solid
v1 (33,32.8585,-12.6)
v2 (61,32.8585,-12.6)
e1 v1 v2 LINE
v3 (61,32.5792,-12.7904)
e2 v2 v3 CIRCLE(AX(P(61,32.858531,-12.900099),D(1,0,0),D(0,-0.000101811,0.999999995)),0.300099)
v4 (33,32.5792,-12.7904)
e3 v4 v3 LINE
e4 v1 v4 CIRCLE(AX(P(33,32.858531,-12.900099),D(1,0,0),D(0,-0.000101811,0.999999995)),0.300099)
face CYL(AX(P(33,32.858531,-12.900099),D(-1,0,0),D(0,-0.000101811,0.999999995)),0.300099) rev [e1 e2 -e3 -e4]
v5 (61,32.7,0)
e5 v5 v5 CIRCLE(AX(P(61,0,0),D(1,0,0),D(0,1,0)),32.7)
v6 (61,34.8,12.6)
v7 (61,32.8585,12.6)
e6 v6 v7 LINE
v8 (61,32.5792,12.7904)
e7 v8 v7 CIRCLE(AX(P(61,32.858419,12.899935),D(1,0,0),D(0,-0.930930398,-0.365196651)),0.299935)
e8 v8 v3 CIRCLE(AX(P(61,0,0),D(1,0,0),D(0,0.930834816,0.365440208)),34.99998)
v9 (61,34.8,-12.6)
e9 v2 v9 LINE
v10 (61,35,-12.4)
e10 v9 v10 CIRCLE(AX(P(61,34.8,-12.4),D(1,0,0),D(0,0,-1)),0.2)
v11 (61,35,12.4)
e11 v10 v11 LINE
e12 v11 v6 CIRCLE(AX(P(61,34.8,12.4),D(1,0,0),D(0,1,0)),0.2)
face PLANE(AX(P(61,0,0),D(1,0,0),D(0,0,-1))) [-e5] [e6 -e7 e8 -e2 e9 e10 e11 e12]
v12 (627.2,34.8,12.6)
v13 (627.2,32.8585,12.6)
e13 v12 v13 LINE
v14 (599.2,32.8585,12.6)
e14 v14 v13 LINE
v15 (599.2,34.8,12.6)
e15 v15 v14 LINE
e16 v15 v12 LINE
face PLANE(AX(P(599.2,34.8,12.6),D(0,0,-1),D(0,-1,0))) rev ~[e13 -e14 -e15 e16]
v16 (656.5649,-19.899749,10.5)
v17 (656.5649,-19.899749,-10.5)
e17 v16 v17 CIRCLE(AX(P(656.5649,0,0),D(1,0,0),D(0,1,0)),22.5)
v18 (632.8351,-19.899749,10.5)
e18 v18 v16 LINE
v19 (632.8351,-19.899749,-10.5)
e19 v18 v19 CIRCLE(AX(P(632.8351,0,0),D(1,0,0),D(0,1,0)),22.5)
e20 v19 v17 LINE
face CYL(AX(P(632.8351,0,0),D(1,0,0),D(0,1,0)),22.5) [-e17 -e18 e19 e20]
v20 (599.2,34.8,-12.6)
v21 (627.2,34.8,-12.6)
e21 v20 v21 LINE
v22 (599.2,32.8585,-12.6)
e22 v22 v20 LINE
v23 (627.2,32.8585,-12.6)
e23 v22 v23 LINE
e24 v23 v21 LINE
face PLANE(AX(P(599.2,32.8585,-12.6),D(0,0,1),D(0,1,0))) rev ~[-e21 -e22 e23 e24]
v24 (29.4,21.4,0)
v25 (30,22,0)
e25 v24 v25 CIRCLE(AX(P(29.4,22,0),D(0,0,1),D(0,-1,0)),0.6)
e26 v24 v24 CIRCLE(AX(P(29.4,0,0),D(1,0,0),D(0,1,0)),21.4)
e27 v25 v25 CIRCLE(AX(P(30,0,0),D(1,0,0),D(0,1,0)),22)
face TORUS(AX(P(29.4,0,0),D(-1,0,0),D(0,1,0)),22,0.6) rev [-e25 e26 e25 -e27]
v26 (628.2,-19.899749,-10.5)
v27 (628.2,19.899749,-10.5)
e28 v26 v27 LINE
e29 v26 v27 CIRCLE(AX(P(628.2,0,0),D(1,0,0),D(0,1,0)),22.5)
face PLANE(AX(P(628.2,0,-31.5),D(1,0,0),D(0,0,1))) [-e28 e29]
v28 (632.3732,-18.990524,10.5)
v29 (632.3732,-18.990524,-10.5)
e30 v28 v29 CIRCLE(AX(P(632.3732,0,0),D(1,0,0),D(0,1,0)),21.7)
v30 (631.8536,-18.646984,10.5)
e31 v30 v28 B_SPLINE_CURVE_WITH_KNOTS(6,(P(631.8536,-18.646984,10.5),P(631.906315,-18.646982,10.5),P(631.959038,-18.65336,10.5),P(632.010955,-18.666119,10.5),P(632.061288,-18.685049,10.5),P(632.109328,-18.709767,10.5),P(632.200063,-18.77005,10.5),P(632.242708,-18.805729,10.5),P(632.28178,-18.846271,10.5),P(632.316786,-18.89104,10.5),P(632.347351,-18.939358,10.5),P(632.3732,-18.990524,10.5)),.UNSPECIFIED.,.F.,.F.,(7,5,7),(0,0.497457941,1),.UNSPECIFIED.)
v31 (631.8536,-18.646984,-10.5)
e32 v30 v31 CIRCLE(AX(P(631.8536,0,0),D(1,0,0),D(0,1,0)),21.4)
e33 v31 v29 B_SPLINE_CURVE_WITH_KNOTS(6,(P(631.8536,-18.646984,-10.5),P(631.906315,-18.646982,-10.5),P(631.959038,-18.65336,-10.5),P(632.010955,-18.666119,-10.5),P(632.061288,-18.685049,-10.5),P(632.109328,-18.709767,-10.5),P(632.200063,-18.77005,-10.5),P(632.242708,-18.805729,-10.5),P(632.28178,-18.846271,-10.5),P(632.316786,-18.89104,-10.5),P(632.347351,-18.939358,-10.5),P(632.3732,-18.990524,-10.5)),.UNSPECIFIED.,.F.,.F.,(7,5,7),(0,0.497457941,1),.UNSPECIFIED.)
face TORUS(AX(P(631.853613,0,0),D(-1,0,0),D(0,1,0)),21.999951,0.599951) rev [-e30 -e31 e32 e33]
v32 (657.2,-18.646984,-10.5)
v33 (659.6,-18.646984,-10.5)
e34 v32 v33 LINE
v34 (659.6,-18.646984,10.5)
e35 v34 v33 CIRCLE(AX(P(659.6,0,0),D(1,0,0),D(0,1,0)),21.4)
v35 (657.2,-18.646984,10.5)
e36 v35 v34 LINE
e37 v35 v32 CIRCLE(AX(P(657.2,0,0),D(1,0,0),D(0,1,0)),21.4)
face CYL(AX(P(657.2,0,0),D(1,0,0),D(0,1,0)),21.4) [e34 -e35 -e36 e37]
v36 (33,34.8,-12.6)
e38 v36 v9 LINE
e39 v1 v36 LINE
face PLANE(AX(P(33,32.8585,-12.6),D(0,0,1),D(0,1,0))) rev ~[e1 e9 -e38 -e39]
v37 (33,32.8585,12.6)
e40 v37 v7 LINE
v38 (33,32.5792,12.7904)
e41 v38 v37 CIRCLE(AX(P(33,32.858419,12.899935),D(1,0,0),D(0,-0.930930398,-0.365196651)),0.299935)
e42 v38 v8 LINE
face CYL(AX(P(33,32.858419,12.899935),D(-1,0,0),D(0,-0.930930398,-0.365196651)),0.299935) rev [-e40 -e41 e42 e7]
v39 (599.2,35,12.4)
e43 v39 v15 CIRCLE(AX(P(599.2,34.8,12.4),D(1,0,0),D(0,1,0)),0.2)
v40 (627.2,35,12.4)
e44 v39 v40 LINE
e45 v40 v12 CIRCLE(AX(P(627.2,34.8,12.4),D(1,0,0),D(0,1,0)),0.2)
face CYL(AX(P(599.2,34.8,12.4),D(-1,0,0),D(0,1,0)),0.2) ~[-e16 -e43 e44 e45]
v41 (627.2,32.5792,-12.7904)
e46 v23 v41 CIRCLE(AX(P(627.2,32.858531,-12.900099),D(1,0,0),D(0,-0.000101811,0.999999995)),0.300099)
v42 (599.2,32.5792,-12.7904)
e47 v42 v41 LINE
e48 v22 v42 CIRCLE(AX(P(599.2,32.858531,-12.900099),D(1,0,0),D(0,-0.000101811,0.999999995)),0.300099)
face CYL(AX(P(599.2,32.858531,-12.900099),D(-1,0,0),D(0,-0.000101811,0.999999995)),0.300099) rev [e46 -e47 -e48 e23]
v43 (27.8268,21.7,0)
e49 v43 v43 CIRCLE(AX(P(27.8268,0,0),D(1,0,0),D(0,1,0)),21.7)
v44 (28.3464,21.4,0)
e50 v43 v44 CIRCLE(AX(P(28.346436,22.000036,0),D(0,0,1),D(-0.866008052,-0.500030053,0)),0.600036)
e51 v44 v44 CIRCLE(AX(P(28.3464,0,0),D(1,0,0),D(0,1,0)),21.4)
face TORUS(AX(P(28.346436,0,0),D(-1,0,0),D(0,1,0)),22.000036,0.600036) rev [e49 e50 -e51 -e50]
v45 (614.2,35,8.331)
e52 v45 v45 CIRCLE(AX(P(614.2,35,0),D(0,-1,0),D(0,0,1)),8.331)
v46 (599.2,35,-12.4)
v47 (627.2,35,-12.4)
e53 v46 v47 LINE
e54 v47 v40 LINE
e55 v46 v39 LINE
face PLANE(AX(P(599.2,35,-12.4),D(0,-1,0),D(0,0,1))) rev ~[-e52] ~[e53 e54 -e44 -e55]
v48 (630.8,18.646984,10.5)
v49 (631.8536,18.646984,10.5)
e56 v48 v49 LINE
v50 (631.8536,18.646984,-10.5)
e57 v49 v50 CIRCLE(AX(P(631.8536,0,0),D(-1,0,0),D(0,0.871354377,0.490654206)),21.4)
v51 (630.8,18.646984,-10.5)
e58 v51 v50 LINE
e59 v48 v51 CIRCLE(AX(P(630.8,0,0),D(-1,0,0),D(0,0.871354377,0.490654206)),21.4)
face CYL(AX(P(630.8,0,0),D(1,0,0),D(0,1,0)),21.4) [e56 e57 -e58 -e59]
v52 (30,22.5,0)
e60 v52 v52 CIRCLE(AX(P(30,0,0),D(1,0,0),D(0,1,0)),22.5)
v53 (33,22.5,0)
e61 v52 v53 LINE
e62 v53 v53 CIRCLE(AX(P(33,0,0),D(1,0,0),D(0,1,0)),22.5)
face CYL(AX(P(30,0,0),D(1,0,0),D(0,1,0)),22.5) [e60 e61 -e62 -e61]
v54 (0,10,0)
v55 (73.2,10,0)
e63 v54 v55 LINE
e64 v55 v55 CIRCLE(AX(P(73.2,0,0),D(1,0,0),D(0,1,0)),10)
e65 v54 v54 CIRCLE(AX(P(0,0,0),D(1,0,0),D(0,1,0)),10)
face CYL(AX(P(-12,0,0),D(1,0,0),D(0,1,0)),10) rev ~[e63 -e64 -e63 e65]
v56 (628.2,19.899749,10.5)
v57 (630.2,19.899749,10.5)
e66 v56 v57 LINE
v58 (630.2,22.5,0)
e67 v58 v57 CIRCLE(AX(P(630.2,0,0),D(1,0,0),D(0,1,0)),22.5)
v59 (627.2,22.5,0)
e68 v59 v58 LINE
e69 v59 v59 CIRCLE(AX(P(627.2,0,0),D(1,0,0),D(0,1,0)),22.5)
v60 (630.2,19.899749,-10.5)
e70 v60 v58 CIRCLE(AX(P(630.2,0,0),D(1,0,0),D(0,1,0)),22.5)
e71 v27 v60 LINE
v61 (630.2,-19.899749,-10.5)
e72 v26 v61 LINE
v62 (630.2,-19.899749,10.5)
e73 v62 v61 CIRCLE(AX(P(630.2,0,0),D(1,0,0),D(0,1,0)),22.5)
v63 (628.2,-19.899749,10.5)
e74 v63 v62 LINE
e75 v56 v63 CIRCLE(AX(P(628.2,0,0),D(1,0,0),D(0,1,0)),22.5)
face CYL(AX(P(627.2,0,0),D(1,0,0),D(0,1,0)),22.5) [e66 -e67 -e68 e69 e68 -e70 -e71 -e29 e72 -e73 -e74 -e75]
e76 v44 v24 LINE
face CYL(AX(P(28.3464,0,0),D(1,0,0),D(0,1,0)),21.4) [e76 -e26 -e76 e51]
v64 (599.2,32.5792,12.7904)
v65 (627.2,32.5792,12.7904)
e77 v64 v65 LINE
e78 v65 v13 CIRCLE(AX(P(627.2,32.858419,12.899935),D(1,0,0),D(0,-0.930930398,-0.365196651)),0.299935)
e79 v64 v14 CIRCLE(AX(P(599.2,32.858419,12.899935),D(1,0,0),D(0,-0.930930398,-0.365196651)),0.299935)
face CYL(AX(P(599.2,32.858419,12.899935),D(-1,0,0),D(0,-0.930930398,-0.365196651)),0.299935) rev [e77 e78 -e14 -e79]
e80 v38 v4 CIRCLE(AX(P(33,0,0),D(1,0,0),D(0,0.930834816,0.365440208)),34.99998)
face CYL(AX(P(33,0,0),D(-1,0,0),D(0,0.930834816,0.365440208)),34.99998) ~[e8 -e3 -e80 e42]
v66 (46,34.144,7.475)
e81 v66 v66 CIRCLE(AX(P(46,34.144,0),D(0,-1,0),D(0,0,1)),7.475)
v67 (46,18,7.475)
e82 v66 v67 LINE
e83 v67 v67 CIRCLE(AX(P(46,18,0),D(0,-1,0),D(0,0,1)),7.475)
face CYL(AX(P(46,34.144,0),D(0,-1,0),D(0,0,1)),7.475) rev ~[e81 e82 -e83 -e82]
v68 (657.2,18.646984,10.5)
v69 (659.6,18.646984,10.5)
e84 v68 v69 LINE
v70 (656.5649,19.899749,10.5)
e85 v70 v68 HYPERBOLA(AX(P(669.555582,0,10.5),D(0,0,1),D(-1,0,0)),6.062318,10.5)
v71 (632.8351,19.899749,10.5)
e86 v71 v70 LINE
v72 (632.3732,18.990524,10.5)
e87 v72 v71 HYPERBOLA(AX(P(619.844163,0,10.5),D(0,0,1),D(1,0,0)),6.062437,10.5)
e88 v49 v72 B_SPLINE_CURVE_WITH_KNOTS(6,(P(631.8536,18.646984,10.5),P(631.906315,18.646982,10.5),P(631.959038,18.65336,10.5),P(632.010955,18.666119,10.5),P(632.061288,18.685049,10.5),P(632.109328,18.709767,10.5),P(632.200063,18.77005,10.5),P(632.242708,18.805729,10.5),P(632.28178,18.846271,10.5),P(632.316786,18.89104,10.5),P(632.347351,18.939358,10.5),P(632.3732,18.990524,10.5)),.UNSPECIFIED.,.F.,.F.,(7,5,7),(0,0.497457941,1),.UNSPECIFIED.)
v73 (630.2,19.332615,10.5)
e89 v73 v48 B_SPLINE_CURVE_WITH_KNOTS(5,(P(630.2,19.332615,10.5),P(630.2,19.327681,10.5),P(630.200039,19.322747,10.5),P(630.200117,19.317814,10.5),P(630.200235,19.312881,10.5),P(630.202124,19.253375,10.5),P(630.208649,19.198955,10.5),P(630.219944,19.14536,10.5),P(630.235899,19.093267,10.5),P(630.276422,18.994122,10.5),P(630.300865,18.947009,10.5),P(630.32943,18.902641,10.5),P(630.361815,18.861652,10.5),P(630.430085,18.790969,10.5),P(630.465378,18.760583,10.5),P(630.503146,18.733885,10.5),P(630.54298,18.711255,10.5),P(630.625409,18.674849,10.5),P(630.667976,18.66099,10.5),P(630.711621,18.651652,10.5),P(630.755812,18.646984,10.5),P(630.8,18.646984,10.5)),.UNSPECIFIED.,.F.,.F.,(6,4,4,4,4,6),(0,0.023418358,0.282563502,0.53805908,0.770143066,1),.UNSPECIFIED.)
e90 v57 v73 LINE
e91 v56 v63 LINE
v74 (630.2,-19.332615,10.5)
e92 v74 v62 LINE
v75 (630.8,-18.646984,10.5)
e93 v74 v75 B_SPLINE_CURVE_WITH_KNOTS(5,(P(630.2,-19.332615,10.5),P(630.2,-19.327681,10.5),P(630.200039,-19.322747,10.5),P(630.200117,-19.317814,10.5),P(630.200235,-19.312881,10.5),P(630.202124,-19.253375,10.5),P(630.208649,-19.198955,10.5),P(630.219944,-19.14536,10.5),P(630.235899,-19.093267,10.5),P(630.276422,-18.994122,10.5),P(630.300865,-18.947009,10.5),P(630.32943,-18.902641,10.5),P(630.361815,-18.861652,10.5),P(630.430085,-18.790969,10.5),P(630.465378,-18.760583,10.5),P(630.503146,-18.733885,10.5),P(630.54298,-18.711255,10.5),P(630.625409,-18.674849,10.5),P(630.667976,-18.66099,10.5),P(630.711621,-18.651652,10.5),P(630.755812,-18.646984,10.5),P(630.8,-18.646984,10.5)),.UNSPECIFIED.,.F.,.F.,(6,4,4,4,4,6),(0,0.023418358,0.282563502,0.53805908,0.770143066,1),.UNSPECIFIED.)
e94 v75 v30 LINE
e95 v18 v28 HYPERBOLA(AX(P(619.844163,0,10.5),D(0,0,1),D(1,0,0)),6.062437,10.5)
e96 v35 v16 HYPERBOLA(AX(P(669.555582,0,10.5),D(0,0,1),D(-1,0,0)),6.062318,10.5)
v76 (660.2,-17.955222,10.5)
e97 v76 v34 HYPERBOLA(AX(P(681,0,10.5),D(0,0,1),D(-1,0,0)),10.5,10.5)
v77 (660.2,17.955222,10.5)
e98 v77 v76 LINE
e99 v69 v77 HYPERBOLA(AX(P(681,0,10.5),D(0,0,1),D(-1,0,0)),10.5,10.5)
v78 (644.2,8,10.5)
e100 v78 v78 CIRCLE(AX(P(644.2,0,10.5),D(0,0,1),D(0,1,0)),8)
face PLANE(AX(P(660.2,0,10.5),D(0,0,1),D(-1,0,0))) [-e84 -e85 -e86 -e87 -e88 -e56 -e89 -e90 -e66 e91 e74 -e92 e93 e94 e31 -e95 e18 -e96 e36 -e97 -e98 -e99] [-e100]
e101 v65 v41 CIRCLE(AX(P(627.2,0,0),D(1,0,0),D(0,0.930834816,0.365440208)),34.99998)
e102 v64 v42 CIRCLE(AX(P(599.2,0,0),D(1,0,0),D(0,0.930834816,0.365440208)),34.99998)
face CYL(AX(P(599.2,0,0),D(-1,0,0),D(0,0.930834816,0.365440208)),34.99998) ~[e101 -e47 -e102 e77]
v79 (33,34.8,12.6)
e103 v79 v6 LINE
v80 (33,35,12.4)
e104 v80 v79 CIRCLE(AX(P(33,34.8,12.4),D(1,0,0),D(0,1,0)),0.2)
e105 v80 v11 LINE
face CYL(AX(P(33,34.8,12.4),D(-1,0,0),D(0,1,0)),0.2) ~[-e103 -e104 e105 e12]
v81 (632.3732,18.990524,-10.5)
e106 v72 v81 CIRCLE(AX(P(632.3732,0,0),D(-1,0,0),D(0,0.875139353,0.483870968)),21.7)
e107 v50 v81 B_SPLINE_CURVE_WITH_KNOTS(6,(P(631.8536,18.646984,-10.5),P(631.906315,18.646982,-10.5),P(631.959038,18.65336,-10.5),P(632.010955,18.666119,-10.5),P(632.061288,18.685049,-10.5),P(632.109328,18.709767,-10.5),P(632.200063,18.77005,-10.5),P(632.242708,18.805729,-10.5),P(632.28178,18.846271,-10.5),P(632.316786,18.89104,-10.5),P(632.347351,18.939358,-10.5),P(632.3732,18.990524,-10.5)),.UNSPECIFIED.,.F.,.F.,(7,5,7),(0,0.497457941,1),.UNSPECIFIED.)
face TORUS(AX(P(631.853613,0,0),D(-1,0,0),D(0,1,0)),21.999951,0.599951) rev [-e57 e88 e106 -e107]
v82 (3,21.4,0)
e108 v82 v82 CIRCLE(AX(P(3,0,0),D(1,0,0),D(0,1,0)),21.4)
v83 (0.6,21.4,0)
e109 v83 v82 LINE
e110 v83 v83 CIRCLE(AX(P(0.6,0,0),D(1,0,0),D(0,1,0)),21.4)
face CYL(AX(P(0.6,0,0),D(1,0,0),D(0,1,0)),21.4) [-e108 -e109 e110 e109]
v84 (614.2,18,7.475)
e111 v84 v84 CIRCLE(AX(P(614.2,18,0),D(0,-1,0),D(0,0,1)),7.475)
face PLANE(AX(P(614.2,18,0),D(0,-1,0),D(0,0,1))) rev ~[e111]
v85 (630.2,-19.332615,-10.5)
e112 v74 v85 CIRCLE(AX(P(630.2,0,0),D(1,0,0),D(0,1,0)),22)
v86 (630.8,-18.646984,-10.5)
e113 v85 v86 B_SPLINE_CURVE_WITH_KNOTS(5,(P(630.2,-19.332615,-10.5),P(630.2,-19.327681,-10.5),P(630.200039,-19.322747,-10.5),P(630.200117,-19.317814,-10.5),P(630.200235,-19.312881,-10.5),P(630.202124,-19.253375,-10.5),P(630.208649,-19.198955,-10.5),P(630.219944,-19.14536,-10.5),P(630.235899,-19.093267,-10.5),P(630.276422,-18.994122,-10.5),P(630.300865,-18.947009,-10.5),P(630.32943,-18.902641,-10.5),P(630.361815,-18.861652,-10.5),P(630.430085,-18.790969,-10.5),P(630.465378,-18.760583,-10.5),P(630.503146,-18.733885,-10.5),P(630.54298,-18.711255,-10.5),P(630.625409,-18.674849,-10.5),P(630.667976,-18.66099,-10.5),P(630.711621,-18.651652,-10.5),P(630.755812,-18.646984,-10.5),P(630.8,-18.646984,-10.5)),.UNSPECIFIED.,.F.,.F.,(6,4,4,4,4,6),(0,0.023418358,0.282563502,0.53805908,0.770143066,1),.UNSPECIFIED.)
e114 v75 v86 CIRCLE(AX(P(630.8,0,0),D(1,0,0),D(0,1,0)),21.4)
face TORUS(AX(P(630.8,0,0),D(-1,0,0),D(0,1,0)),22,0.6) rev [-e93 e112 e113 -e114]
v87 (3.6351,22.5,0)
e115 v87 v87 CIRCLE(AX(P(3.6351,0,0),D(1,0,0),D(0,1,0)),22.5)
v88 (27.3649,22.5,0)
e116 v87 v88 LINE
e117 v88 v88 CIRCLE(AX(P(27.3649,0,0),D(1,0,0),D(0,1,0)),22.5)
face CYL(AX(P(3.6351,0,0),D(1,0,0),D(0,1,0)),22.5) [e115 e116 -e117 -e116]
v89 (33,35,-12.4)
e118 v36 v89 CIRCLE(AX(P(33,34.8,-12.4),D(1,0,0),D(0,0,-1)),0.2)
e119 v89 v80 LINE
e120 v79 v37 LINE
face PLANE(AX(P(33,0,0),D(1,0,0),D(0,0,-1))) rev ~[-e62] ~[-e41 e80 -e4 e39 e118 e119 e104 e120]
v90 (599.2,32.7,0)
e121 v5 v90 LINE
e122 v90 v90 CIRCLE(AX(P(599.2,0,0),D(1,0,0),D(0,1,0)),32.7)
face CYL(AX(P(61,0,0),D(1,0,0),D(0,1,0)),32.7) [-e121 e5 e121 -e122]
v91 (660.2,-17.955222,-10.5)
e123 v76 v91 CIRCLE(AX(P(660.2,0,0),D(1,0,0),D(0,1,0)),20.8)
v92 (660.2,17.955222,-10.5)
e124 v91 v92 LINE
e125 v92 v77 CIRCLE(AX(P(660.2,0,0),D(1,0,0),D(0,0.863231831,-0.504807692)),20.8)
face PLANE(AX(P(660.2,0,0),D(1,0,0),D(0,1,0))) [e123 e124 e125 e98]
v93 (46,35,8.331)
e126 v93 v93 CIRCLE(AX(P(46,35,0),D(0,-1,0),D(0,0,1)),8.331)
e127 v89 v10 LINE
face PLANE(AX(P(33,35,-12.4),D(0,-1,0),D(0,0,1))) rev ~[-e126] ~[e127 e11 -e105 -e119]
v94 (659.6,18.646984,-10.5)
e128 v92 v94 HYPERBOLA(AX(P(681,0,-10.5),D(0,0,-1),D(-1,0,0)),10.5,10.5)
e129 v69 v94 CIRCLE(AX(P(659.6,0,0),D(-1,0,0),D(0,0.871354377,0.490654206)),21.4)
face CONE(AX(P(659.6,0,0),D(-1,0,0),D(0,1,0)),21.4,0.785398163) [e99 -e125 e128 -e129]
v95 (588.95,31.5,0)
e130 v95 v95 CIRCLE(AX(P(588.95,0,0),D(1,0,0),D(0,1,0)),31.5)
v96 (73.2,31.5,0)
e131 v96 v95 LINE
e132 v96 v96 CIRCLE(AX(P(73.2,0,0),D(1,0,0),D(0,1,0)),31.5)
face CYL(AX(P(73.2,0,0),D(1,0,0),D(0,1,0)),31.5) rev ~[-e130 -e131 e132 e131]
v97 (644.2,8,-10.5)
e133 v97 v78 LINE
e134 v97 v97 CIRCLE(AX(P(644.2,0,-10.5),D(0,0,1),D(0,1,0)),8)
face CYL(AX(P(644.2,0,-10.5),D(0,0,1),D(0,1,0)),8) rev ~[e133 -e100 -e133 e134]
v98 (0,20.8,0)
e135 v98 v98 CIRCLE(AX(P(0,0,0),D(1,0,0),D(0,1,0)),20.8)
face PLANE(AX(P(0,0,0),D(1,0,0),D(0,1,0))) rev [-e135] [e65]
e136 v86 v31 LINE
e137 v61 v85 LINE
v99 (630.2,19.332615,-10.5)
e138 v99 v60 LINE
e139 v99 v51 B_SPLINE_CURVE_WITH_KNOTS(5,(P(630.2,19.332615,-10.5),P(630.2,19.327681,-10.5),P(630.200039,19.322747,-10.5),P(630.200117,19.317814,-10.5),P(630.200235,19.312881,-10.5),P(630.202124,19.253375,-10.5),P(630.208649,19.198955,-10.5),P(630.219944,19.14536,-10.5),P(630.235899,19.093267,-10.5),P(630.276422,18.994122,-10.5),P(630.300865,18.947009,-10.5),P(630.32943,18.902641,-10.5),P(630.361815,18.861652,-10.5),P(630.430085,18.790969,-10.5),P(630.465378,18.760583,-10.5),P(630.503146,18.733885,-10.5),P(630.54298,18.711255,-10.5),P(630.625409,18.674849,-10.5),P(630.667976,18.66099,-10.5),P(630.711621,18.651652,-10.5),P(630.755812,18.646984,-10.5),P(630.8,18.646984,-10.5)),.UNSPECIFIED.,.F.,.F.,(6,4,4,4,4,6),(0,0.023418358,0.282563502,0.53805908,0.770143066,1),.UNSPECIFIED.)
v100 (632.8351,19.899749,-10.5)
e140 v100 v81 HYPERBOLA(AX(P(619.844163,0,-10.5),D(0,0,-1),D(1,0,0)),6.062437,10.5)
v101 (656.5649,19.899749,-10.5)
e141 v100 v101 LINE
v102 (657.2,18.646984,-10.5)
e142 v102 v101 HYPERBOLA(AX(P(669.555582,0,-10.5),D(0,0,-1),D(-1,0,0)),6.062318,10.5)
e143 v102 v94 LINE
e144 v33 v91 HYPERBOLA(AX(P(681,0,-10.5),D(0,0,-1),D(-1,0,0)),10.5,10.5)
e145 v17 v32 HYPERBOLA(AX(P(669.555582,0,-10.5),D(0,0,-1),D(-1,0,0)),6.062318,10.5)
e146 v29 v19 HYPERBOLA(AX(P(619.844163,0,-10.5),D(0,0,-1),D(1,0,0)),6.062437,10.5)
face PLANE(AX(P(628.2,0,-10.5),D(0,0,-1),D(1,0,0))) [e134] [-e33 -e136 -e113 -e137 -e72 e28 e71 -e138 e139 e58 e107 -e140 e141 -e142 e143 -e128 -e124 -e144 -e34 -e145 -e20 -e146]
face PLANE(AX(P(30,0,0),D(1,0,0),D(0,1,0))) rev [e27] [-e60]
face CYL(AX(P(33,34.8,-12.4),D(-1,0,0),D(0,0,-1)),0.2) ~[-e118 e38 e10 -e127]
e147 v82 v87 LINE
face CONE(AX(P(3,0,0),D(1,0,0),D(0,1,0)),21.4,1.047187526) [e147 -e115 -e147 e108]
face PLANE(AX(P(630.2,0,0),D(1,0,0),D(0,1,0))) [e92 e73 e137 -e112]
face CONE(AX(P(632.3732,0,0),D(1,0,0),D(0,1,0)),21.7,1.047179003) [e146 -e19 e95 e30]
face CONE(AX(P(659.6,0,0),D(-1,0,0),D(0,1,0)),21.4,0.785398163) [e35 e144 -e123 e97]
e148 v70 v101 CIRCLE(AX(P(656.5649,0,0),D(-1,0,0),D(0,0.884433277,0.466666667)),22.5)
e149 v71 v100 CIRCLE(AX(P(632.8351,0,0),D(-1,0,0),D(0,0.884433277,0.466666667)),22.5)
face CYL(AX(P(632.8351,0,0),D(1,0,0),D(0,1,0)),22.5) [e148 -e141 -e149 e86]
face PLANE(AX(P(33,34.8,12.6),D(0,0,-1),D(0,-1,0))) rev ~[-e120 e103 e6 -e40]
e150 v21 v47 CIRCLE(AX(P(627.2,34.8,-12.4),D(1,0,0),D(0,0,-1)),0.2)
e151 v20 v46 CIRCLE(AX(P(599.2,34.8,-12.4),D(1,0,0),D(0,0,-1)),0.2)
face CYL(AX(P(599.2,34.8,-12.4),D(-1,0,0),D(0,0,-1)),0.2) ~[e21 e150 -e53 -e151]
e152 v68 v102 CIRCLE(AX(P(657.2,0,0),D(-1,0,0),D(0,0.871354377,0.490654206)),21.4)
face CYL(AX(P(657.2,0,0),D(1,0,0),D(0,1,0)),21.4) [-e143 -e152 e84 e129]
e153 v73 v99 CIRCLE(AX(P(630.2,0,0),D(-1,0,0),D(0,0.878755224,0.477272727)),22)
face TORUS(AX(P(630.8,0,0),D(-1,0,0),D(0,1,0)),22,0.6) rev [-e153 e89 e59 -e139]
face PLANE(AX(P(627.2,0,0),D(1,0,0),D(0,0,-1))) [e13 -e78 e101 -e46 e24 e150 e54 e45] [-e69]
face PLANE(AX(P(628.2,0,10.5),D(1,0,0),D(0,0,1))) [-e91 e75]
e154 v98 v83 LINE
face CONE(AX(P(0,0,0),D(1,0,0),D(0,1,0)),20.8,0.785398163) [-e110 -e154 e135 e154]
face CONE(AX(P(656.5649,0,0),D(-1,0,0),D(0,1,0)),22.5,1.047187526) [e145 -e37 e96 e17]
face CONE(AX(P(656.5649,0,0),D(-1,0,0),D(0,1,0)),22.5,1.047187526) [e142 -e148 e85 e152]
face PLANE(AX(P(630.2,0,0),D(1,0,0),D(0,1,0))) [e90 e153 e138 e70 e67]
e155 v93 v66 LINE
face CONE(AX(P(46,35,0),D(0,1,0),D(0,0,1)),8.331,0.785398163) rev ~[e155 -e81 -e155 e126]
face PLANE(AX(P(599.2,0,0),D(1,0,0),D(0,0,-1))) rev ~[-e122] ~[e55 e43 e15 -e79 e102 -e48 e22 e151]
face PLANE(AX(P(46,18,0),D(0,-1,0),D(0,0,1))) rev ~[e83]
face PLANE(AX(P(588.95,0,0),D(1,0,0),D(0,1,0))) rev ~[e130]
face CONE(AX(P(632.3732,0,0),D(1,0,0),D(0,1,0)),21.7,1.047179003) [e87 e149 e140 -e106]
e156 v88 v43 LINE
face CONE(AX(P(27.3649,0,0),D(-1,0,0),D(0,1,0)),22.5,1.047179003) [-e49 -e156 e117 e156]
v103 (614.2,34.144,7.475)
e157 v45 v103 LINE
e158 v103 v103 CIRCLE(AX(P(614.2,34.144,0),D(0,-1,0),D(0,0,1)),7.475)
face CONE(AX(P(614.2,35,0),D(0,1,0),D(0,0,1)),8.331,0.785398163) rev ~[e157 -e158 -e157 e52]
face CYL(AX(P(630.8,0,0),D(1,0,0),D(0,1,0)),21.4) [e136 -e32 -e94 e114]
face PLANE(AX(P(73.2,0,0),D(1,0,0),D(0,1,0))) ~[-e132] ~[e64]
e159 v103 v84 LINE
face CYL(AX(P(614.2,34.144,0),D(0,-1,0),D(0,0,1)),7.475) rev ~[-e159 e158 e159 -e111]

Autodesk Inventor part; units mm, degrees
sketch "Sketch_22" plane through (0, 0, 0) normal (0, 0, 1) x (1, 0, 0)
  line L0 (33, 0) -> (0, 0)
  line L1 (0, 0) -> (0, 20.8)
  line L2 (0, 20.8) -> (0.6, 21.4)
  line L3 (0.6, 21.4) -> (3, 21.4)
  line L4 (3, 21.4) -> (3.6351, 22.5)
  line L5 (3.6351, 22.5) -> (27.3649, 22.5)
  line L6 (27.3649, 22.5) -> (27.8268, 21.7)
  arc A0 (27.8268, 21.7) -> (28.3464, 21.4) centre (28.3464, 22) ccw
  line L7 (28.3464, 21.4) -> (29.4, 21.4)
  arc A1 (29.4, 21.4) -> (30, 22) centre (29.4, 22) ccw
  line L8 (30, 22) -> (30, 22.5)
  line L9 (30, 22.5) -> (33, 22.5)
  line L10 (33, 22.5) -> (33, 0)
  line L11 (33, 0) -> (0, 0)
revolve "Revolution1" add sketch "Sketch_22" angle 360 about axis through (33, 0, 0) along (1, 0, 0)
thread "Thread1" size "M45x1.5" class "6g" standard "ISO Metric profile" full length
sketch "Sketch_2" plane through (33, 0, 0) normal (1, 0, 0) x (0, 0, -1)
  arc A0 (-12.7904, 32.5792) -> (12.7904, 32.5792) centre (0, 0) ccw
  arc A1 (12.6, 32.8585) -> (12.7904, 32.5792) centre (12.9, 32.8585) ccw
  line L0 (12.6, 32.8585) -> (12.6, 34.8)
  arc A2 (12.6, 34.8) -> (12.4, 35) centre (12.4, 34.8) ccw
  line L1 (12.4, 35) -> (-12.4, 35)
  arc A3 (-12.4, 35) -> (-12.6, 34.8) centre (-12.4, 34.8) ccw
  line L2 (-12.6, 34.8) -> (-12.6, 32.8585)
  arc A4 (-12.7904, 32.5792) -> (-12.6, 32.8585) centre (-12.9, 32.8585) ccw
extrude "Extrusion1" add sketch "Sketch_2" along normal blind 28
sketch "Sketch_3" plane through (0, 0, 0) normal (0, 0, 1) x (1, 0, 0)
  line L0 (599.2, 0) -> (61, 0)
  line L1 (61, 0) -> (61, 32.7)
  line L2 (61, 32.7) -> (599.2, 32.7)
  line L3 (599.2, 32.7) -> (599.2, 0)
  line L4 (599.2, 0) -> (61, 0)
revolve "Revolution2" add sketch "Sketch_3" angle 360 about axis through (599.2, 0, 0) along (1, 0, 0)
sketch "Sketch_16" plane through (599.2, 0, 0) normal (1, 0, 0) x (0, 0, -1)
  arc A0 (-12.7904, 32.5792) -> (12.7904, 32.5792) centre (0, 0) ccw
  arc A1 (12.6, 32.8585) -> (12.7904, 32.5792) centre (12.9, 32.8585) ccw
  line L0 (12.6, 32.8585) -> (12.6, 34.8)
  arc A2 (12.6, 34.8) -> (12.4, 35) centre (12.4, 34.8) ccw
  line L1 (12.4, 35) -> (-12.4, 35)
  arc A3 (-12.4, 35) -> (-12.6, 34.8) centre (-12.4, 34.8) ccw
  line L2 (-12.6, 34.8) -> (-12.6, 32.8585)
  arc A4 (-12.7904, 32.5792) -> (-12.6, 32.8585) centre (-12.9, 32.8585) ccw
extrude "Extrusion2" add sketch "Sketch_16" along normal blind 28
sketch "Sketch_5" plane through (0, 0, 0) normal (0, 0, 1) x (1, 0, 0)
  line L0 (660.2, 0) -> (627.2, 0)
  line L1 (627.2, 0) -> (627.2, 22.5)
  line L2 (627.2, 22.5) -> (630.2, 22.5)
  line L3 (630.2, 22.5) -> (630.2, 22)
  arc A0 (630.2, 22) -> (630.8, 21.4) centre (630.8, 22) ccw
  line L4 (630.8, 21.4) -> (631.8536, 21.4)
  arc A1 (631.8536, 21.4) -> (632.3732, 21.7) centre (631.8536, 22) ccw
  line L5 (632.3732, 21.7) -> (632.8351, 22.5)
  line L6 (632.8351, 22.5) -> (656.5649, 22.5)
  line L7 (656.5649, 22.5) -> (657.2, 21.4)
  line L8 (657.2, 21.4) -> (659.6, 21.4)
  line L9 (659.6, 21.4) -> (660.2, 20.8)
  line L10 (660.2, 20.8) -> (660.2, 0)
  line L11 (660.2, 0) -> (627.2, 0)
revolve "Revolution3" add sketch "Sketch_5" angle 360 about axis through (660.2, 0, 0) along (1, 0, 0)
thread "Thread2" size "M45x1.5" class "6g" standard "ISO Metric profile" full length
sketch "Sketch_6" plane through (0, 0, 0) normal (0, 1, 0) x (-1, 0, 0)
  line L0 (-628.2, -31.5) -> (-628.2, -10.5)
  line L1 (-628.2, -10.5) -> (-660.2, -10.5)
  line L2 (-660.2, -10.5) -> (-660.2, 10.5)
  line L3 (-660.2, 10.5) -> (-628.2, 10.5)
  line L4 (-628.2, 10.5) -> (-628.2, 31.5)
  line L5 (-628.2, 31.5) -> (-681.2, 31.5)
  line L6 (-681.2, 31.5) -> (-681.2, -31.5)
  line L7 (-681.2, -31.5) -> (-628.2, -31.5)
extrude "Extrusion3" cut sketch "Sketch_6" along normal mid plane 70
sketch "Sketch7" plane through (656.5649, -19.8997, -10.5) normal (0, 0, -1) x (-1, 0, 0)
  point P0 (12.3649, 19.8997)
hole "Hole1" at (644.2, 0, -10.5) direction (0, 0, 1) diameter 16 depth 21
sketch "Sketch8" plane through (33, 35, 12.4) normal (0, 1, 0) x (1, 0, 0)
  point P0 (13, 12.4)
hole "Hole2" at (46, 35, 0) direction (0, -1, 0) diameter 14.95 depth 17 countersink diameter 16.662 countersink angle 90 thread size "G16.662x1.337" designation "G 3/8" standard "ISO Pipe Threads"
sketch "Sketch9" plane through (599.2, 35, 12.4) normal (0, 1, 0) x (1, 0, 0)
  point P0 (15, 12.4)
hole "Hole3" at (614.2, 35, 0) direction (0, -1, 0) diameter 14.95 depth 17 countersink diameter 16.662 countersink angle 90 thread size "G16.662x1.337" designation "G 3/8" standard "ISO Pipe Threads"
sketch "Sketch_64" plane through (0, 0, 0) normal (0, 0, 1) x (1, 0, 0)
  line L0 (588.95, 0) -> (-12, 0)
  line L1 (-12, 0) -> (-12, 10)
  line L2 (-12, 10) -> (73.2, 10)
  line L3 (73.2, 10) -> (73.2, 31.5)
  line L4 (73.2, 31.5) -> (588.95, 31.5)
  line L5 (588.95, 31.5) -> (588.95, 0)
  line L6 (588.95, 0) -> (-12, 0)
revolve "Revolution4" cut sketch "Sketch_64" angle 360 about axis through (588.95, 0, 0) along (1, 0, 0)
ref_plane "FDT_FRONT_XY" through (33, 0, 0) normal (1, 0, 0) x (0, 0, -1)
ref_plane "FDT_FRONT_YZ" through (33, 0, 0) normal (0, 0, -1) x (0, 1, 0)
ref_plane "FDT_FRONT_ZX" through (33, 0, 0) normal (0, 1, 0) x (1, 0, 0)
ref_plane "FDT_QSFRONT_XY" through (46, 35, 0) normal (0, 1, 0) x (0, 0, 1)
ref_plane "FDT_QSFRONT_YZ" through (46, 35, 0) normal (0, 0, 1) x (1, 0, 0)
ref_plane "FDT_QSFRONT_ZX" through (46, 35, 0) normal (1, 0, 0) x (0, 1, 0)
ref_plane "FDT_QSREAR_XY" through (614.2, 35, 0) normal (0, 1, 0) x (0, 0, 1)
ref_plane "FDT_QSREAR_YZ" through (614.2, 35, 0) normal (0, 0, 1) x (1, 0, 0)
ref_plane "FDT_QSREAR_ZX" through (614.2, 35, 0) normal (1, 0, 0) x (0, 1, 0)
ref_plane "FDT_REAR_XY" through (627.2, 0, 0) normal (-1, 0, 0) x (0, 0, -1)
ref_plane "FDT_REAR_YZ" through (627.2, 0, 0) normal (0, 0, -1) x (0, -1, 0)
ref_plane "FDT_REAR_ZX" through (627.2, 0, 0) normal (0, -1, 0) x (-1, 0, 0)
ref_plane "FDT_SMBR1_XY" through (70.5, 0, 0) normal (-1, 0, 0) x (0, 0, 1)
ref_plane "FDT_SMBR1_YZ" through (70.5, 0, 0) normal (0, 0, 1) x (0, 1, 0)
ref_plane "FDT_SMBR1_ZX" through (70.5, 0, 0) normal (0, 1, 0) x (-1, 0, 0)
ref_plane "FDT_SMBR2_XY" through (589.7, 0, 0) normal (-1, 0, 0) x (0, 0, 1)
ref_plane "FDT_SMBR2_YZ" through (589.7, 0, 0) normal (0, 0, 1) x (0, 1, 0)
ref_plane "FDT_SMBR2_ZX" through (589.7, 0, 0) normal (0, 1, 0) x (-1, 0, 0)
ref_plane "FDT_SWIVELAXIS_XY" through (644.2, 0, 0) normal (0, 0, 1) x (1, 0, 0)
ref_plane "FDT_SWIVELAXIS_YZ" through (644.2, 0, 0) normal (1, 0, 0) x (0, 1, 0)
ref_plane "FDT_SWIVELAXIS_ZX" through (644.2, 0, 0) normal (0, 1, 0) x (0, 0, 1)
ref_plane "NUT_XY" through (8.5, 0, 0) normal (1, 0, 0) x (0, 0, -1)
ref_plane "NUT_YZ" through (8.5, 0, 0) normal (0, 0, -1) x (0, 1, 0)
ref_plane "NUT_ZX" through (8.5, 0, 0) normal (0, 1, 0) x (1, 0, 0)
ref_plane "ZR_XY" through (0, 0, 0) normal (-1, 0, 0) x (0, 0, -1)
ref_plane "ZR_YZ" through (0, 0, 0) normal (0, 0, -1) x (0, -1, 0)
ref_plane "ZR_ZX" through (0, 0, 0) normal (0, -1, 0) x (-1, 0, 0)
ref_plane "ZYL_XY" through (33, 0, 0) normal (1, 0, 0) x (0, 0, -1)
ref_plane "ZYL_YZ" through (33, 0, 0) normal (0, 0, -1) x (0, 1, 0)
ref_plane "ZYL_ZX" through (33, 0, 0) normal (0, 1, 0) x (1, 0, 0)
properties part number "193995 DSNU-63-500-P---(A----0-ZR)"
